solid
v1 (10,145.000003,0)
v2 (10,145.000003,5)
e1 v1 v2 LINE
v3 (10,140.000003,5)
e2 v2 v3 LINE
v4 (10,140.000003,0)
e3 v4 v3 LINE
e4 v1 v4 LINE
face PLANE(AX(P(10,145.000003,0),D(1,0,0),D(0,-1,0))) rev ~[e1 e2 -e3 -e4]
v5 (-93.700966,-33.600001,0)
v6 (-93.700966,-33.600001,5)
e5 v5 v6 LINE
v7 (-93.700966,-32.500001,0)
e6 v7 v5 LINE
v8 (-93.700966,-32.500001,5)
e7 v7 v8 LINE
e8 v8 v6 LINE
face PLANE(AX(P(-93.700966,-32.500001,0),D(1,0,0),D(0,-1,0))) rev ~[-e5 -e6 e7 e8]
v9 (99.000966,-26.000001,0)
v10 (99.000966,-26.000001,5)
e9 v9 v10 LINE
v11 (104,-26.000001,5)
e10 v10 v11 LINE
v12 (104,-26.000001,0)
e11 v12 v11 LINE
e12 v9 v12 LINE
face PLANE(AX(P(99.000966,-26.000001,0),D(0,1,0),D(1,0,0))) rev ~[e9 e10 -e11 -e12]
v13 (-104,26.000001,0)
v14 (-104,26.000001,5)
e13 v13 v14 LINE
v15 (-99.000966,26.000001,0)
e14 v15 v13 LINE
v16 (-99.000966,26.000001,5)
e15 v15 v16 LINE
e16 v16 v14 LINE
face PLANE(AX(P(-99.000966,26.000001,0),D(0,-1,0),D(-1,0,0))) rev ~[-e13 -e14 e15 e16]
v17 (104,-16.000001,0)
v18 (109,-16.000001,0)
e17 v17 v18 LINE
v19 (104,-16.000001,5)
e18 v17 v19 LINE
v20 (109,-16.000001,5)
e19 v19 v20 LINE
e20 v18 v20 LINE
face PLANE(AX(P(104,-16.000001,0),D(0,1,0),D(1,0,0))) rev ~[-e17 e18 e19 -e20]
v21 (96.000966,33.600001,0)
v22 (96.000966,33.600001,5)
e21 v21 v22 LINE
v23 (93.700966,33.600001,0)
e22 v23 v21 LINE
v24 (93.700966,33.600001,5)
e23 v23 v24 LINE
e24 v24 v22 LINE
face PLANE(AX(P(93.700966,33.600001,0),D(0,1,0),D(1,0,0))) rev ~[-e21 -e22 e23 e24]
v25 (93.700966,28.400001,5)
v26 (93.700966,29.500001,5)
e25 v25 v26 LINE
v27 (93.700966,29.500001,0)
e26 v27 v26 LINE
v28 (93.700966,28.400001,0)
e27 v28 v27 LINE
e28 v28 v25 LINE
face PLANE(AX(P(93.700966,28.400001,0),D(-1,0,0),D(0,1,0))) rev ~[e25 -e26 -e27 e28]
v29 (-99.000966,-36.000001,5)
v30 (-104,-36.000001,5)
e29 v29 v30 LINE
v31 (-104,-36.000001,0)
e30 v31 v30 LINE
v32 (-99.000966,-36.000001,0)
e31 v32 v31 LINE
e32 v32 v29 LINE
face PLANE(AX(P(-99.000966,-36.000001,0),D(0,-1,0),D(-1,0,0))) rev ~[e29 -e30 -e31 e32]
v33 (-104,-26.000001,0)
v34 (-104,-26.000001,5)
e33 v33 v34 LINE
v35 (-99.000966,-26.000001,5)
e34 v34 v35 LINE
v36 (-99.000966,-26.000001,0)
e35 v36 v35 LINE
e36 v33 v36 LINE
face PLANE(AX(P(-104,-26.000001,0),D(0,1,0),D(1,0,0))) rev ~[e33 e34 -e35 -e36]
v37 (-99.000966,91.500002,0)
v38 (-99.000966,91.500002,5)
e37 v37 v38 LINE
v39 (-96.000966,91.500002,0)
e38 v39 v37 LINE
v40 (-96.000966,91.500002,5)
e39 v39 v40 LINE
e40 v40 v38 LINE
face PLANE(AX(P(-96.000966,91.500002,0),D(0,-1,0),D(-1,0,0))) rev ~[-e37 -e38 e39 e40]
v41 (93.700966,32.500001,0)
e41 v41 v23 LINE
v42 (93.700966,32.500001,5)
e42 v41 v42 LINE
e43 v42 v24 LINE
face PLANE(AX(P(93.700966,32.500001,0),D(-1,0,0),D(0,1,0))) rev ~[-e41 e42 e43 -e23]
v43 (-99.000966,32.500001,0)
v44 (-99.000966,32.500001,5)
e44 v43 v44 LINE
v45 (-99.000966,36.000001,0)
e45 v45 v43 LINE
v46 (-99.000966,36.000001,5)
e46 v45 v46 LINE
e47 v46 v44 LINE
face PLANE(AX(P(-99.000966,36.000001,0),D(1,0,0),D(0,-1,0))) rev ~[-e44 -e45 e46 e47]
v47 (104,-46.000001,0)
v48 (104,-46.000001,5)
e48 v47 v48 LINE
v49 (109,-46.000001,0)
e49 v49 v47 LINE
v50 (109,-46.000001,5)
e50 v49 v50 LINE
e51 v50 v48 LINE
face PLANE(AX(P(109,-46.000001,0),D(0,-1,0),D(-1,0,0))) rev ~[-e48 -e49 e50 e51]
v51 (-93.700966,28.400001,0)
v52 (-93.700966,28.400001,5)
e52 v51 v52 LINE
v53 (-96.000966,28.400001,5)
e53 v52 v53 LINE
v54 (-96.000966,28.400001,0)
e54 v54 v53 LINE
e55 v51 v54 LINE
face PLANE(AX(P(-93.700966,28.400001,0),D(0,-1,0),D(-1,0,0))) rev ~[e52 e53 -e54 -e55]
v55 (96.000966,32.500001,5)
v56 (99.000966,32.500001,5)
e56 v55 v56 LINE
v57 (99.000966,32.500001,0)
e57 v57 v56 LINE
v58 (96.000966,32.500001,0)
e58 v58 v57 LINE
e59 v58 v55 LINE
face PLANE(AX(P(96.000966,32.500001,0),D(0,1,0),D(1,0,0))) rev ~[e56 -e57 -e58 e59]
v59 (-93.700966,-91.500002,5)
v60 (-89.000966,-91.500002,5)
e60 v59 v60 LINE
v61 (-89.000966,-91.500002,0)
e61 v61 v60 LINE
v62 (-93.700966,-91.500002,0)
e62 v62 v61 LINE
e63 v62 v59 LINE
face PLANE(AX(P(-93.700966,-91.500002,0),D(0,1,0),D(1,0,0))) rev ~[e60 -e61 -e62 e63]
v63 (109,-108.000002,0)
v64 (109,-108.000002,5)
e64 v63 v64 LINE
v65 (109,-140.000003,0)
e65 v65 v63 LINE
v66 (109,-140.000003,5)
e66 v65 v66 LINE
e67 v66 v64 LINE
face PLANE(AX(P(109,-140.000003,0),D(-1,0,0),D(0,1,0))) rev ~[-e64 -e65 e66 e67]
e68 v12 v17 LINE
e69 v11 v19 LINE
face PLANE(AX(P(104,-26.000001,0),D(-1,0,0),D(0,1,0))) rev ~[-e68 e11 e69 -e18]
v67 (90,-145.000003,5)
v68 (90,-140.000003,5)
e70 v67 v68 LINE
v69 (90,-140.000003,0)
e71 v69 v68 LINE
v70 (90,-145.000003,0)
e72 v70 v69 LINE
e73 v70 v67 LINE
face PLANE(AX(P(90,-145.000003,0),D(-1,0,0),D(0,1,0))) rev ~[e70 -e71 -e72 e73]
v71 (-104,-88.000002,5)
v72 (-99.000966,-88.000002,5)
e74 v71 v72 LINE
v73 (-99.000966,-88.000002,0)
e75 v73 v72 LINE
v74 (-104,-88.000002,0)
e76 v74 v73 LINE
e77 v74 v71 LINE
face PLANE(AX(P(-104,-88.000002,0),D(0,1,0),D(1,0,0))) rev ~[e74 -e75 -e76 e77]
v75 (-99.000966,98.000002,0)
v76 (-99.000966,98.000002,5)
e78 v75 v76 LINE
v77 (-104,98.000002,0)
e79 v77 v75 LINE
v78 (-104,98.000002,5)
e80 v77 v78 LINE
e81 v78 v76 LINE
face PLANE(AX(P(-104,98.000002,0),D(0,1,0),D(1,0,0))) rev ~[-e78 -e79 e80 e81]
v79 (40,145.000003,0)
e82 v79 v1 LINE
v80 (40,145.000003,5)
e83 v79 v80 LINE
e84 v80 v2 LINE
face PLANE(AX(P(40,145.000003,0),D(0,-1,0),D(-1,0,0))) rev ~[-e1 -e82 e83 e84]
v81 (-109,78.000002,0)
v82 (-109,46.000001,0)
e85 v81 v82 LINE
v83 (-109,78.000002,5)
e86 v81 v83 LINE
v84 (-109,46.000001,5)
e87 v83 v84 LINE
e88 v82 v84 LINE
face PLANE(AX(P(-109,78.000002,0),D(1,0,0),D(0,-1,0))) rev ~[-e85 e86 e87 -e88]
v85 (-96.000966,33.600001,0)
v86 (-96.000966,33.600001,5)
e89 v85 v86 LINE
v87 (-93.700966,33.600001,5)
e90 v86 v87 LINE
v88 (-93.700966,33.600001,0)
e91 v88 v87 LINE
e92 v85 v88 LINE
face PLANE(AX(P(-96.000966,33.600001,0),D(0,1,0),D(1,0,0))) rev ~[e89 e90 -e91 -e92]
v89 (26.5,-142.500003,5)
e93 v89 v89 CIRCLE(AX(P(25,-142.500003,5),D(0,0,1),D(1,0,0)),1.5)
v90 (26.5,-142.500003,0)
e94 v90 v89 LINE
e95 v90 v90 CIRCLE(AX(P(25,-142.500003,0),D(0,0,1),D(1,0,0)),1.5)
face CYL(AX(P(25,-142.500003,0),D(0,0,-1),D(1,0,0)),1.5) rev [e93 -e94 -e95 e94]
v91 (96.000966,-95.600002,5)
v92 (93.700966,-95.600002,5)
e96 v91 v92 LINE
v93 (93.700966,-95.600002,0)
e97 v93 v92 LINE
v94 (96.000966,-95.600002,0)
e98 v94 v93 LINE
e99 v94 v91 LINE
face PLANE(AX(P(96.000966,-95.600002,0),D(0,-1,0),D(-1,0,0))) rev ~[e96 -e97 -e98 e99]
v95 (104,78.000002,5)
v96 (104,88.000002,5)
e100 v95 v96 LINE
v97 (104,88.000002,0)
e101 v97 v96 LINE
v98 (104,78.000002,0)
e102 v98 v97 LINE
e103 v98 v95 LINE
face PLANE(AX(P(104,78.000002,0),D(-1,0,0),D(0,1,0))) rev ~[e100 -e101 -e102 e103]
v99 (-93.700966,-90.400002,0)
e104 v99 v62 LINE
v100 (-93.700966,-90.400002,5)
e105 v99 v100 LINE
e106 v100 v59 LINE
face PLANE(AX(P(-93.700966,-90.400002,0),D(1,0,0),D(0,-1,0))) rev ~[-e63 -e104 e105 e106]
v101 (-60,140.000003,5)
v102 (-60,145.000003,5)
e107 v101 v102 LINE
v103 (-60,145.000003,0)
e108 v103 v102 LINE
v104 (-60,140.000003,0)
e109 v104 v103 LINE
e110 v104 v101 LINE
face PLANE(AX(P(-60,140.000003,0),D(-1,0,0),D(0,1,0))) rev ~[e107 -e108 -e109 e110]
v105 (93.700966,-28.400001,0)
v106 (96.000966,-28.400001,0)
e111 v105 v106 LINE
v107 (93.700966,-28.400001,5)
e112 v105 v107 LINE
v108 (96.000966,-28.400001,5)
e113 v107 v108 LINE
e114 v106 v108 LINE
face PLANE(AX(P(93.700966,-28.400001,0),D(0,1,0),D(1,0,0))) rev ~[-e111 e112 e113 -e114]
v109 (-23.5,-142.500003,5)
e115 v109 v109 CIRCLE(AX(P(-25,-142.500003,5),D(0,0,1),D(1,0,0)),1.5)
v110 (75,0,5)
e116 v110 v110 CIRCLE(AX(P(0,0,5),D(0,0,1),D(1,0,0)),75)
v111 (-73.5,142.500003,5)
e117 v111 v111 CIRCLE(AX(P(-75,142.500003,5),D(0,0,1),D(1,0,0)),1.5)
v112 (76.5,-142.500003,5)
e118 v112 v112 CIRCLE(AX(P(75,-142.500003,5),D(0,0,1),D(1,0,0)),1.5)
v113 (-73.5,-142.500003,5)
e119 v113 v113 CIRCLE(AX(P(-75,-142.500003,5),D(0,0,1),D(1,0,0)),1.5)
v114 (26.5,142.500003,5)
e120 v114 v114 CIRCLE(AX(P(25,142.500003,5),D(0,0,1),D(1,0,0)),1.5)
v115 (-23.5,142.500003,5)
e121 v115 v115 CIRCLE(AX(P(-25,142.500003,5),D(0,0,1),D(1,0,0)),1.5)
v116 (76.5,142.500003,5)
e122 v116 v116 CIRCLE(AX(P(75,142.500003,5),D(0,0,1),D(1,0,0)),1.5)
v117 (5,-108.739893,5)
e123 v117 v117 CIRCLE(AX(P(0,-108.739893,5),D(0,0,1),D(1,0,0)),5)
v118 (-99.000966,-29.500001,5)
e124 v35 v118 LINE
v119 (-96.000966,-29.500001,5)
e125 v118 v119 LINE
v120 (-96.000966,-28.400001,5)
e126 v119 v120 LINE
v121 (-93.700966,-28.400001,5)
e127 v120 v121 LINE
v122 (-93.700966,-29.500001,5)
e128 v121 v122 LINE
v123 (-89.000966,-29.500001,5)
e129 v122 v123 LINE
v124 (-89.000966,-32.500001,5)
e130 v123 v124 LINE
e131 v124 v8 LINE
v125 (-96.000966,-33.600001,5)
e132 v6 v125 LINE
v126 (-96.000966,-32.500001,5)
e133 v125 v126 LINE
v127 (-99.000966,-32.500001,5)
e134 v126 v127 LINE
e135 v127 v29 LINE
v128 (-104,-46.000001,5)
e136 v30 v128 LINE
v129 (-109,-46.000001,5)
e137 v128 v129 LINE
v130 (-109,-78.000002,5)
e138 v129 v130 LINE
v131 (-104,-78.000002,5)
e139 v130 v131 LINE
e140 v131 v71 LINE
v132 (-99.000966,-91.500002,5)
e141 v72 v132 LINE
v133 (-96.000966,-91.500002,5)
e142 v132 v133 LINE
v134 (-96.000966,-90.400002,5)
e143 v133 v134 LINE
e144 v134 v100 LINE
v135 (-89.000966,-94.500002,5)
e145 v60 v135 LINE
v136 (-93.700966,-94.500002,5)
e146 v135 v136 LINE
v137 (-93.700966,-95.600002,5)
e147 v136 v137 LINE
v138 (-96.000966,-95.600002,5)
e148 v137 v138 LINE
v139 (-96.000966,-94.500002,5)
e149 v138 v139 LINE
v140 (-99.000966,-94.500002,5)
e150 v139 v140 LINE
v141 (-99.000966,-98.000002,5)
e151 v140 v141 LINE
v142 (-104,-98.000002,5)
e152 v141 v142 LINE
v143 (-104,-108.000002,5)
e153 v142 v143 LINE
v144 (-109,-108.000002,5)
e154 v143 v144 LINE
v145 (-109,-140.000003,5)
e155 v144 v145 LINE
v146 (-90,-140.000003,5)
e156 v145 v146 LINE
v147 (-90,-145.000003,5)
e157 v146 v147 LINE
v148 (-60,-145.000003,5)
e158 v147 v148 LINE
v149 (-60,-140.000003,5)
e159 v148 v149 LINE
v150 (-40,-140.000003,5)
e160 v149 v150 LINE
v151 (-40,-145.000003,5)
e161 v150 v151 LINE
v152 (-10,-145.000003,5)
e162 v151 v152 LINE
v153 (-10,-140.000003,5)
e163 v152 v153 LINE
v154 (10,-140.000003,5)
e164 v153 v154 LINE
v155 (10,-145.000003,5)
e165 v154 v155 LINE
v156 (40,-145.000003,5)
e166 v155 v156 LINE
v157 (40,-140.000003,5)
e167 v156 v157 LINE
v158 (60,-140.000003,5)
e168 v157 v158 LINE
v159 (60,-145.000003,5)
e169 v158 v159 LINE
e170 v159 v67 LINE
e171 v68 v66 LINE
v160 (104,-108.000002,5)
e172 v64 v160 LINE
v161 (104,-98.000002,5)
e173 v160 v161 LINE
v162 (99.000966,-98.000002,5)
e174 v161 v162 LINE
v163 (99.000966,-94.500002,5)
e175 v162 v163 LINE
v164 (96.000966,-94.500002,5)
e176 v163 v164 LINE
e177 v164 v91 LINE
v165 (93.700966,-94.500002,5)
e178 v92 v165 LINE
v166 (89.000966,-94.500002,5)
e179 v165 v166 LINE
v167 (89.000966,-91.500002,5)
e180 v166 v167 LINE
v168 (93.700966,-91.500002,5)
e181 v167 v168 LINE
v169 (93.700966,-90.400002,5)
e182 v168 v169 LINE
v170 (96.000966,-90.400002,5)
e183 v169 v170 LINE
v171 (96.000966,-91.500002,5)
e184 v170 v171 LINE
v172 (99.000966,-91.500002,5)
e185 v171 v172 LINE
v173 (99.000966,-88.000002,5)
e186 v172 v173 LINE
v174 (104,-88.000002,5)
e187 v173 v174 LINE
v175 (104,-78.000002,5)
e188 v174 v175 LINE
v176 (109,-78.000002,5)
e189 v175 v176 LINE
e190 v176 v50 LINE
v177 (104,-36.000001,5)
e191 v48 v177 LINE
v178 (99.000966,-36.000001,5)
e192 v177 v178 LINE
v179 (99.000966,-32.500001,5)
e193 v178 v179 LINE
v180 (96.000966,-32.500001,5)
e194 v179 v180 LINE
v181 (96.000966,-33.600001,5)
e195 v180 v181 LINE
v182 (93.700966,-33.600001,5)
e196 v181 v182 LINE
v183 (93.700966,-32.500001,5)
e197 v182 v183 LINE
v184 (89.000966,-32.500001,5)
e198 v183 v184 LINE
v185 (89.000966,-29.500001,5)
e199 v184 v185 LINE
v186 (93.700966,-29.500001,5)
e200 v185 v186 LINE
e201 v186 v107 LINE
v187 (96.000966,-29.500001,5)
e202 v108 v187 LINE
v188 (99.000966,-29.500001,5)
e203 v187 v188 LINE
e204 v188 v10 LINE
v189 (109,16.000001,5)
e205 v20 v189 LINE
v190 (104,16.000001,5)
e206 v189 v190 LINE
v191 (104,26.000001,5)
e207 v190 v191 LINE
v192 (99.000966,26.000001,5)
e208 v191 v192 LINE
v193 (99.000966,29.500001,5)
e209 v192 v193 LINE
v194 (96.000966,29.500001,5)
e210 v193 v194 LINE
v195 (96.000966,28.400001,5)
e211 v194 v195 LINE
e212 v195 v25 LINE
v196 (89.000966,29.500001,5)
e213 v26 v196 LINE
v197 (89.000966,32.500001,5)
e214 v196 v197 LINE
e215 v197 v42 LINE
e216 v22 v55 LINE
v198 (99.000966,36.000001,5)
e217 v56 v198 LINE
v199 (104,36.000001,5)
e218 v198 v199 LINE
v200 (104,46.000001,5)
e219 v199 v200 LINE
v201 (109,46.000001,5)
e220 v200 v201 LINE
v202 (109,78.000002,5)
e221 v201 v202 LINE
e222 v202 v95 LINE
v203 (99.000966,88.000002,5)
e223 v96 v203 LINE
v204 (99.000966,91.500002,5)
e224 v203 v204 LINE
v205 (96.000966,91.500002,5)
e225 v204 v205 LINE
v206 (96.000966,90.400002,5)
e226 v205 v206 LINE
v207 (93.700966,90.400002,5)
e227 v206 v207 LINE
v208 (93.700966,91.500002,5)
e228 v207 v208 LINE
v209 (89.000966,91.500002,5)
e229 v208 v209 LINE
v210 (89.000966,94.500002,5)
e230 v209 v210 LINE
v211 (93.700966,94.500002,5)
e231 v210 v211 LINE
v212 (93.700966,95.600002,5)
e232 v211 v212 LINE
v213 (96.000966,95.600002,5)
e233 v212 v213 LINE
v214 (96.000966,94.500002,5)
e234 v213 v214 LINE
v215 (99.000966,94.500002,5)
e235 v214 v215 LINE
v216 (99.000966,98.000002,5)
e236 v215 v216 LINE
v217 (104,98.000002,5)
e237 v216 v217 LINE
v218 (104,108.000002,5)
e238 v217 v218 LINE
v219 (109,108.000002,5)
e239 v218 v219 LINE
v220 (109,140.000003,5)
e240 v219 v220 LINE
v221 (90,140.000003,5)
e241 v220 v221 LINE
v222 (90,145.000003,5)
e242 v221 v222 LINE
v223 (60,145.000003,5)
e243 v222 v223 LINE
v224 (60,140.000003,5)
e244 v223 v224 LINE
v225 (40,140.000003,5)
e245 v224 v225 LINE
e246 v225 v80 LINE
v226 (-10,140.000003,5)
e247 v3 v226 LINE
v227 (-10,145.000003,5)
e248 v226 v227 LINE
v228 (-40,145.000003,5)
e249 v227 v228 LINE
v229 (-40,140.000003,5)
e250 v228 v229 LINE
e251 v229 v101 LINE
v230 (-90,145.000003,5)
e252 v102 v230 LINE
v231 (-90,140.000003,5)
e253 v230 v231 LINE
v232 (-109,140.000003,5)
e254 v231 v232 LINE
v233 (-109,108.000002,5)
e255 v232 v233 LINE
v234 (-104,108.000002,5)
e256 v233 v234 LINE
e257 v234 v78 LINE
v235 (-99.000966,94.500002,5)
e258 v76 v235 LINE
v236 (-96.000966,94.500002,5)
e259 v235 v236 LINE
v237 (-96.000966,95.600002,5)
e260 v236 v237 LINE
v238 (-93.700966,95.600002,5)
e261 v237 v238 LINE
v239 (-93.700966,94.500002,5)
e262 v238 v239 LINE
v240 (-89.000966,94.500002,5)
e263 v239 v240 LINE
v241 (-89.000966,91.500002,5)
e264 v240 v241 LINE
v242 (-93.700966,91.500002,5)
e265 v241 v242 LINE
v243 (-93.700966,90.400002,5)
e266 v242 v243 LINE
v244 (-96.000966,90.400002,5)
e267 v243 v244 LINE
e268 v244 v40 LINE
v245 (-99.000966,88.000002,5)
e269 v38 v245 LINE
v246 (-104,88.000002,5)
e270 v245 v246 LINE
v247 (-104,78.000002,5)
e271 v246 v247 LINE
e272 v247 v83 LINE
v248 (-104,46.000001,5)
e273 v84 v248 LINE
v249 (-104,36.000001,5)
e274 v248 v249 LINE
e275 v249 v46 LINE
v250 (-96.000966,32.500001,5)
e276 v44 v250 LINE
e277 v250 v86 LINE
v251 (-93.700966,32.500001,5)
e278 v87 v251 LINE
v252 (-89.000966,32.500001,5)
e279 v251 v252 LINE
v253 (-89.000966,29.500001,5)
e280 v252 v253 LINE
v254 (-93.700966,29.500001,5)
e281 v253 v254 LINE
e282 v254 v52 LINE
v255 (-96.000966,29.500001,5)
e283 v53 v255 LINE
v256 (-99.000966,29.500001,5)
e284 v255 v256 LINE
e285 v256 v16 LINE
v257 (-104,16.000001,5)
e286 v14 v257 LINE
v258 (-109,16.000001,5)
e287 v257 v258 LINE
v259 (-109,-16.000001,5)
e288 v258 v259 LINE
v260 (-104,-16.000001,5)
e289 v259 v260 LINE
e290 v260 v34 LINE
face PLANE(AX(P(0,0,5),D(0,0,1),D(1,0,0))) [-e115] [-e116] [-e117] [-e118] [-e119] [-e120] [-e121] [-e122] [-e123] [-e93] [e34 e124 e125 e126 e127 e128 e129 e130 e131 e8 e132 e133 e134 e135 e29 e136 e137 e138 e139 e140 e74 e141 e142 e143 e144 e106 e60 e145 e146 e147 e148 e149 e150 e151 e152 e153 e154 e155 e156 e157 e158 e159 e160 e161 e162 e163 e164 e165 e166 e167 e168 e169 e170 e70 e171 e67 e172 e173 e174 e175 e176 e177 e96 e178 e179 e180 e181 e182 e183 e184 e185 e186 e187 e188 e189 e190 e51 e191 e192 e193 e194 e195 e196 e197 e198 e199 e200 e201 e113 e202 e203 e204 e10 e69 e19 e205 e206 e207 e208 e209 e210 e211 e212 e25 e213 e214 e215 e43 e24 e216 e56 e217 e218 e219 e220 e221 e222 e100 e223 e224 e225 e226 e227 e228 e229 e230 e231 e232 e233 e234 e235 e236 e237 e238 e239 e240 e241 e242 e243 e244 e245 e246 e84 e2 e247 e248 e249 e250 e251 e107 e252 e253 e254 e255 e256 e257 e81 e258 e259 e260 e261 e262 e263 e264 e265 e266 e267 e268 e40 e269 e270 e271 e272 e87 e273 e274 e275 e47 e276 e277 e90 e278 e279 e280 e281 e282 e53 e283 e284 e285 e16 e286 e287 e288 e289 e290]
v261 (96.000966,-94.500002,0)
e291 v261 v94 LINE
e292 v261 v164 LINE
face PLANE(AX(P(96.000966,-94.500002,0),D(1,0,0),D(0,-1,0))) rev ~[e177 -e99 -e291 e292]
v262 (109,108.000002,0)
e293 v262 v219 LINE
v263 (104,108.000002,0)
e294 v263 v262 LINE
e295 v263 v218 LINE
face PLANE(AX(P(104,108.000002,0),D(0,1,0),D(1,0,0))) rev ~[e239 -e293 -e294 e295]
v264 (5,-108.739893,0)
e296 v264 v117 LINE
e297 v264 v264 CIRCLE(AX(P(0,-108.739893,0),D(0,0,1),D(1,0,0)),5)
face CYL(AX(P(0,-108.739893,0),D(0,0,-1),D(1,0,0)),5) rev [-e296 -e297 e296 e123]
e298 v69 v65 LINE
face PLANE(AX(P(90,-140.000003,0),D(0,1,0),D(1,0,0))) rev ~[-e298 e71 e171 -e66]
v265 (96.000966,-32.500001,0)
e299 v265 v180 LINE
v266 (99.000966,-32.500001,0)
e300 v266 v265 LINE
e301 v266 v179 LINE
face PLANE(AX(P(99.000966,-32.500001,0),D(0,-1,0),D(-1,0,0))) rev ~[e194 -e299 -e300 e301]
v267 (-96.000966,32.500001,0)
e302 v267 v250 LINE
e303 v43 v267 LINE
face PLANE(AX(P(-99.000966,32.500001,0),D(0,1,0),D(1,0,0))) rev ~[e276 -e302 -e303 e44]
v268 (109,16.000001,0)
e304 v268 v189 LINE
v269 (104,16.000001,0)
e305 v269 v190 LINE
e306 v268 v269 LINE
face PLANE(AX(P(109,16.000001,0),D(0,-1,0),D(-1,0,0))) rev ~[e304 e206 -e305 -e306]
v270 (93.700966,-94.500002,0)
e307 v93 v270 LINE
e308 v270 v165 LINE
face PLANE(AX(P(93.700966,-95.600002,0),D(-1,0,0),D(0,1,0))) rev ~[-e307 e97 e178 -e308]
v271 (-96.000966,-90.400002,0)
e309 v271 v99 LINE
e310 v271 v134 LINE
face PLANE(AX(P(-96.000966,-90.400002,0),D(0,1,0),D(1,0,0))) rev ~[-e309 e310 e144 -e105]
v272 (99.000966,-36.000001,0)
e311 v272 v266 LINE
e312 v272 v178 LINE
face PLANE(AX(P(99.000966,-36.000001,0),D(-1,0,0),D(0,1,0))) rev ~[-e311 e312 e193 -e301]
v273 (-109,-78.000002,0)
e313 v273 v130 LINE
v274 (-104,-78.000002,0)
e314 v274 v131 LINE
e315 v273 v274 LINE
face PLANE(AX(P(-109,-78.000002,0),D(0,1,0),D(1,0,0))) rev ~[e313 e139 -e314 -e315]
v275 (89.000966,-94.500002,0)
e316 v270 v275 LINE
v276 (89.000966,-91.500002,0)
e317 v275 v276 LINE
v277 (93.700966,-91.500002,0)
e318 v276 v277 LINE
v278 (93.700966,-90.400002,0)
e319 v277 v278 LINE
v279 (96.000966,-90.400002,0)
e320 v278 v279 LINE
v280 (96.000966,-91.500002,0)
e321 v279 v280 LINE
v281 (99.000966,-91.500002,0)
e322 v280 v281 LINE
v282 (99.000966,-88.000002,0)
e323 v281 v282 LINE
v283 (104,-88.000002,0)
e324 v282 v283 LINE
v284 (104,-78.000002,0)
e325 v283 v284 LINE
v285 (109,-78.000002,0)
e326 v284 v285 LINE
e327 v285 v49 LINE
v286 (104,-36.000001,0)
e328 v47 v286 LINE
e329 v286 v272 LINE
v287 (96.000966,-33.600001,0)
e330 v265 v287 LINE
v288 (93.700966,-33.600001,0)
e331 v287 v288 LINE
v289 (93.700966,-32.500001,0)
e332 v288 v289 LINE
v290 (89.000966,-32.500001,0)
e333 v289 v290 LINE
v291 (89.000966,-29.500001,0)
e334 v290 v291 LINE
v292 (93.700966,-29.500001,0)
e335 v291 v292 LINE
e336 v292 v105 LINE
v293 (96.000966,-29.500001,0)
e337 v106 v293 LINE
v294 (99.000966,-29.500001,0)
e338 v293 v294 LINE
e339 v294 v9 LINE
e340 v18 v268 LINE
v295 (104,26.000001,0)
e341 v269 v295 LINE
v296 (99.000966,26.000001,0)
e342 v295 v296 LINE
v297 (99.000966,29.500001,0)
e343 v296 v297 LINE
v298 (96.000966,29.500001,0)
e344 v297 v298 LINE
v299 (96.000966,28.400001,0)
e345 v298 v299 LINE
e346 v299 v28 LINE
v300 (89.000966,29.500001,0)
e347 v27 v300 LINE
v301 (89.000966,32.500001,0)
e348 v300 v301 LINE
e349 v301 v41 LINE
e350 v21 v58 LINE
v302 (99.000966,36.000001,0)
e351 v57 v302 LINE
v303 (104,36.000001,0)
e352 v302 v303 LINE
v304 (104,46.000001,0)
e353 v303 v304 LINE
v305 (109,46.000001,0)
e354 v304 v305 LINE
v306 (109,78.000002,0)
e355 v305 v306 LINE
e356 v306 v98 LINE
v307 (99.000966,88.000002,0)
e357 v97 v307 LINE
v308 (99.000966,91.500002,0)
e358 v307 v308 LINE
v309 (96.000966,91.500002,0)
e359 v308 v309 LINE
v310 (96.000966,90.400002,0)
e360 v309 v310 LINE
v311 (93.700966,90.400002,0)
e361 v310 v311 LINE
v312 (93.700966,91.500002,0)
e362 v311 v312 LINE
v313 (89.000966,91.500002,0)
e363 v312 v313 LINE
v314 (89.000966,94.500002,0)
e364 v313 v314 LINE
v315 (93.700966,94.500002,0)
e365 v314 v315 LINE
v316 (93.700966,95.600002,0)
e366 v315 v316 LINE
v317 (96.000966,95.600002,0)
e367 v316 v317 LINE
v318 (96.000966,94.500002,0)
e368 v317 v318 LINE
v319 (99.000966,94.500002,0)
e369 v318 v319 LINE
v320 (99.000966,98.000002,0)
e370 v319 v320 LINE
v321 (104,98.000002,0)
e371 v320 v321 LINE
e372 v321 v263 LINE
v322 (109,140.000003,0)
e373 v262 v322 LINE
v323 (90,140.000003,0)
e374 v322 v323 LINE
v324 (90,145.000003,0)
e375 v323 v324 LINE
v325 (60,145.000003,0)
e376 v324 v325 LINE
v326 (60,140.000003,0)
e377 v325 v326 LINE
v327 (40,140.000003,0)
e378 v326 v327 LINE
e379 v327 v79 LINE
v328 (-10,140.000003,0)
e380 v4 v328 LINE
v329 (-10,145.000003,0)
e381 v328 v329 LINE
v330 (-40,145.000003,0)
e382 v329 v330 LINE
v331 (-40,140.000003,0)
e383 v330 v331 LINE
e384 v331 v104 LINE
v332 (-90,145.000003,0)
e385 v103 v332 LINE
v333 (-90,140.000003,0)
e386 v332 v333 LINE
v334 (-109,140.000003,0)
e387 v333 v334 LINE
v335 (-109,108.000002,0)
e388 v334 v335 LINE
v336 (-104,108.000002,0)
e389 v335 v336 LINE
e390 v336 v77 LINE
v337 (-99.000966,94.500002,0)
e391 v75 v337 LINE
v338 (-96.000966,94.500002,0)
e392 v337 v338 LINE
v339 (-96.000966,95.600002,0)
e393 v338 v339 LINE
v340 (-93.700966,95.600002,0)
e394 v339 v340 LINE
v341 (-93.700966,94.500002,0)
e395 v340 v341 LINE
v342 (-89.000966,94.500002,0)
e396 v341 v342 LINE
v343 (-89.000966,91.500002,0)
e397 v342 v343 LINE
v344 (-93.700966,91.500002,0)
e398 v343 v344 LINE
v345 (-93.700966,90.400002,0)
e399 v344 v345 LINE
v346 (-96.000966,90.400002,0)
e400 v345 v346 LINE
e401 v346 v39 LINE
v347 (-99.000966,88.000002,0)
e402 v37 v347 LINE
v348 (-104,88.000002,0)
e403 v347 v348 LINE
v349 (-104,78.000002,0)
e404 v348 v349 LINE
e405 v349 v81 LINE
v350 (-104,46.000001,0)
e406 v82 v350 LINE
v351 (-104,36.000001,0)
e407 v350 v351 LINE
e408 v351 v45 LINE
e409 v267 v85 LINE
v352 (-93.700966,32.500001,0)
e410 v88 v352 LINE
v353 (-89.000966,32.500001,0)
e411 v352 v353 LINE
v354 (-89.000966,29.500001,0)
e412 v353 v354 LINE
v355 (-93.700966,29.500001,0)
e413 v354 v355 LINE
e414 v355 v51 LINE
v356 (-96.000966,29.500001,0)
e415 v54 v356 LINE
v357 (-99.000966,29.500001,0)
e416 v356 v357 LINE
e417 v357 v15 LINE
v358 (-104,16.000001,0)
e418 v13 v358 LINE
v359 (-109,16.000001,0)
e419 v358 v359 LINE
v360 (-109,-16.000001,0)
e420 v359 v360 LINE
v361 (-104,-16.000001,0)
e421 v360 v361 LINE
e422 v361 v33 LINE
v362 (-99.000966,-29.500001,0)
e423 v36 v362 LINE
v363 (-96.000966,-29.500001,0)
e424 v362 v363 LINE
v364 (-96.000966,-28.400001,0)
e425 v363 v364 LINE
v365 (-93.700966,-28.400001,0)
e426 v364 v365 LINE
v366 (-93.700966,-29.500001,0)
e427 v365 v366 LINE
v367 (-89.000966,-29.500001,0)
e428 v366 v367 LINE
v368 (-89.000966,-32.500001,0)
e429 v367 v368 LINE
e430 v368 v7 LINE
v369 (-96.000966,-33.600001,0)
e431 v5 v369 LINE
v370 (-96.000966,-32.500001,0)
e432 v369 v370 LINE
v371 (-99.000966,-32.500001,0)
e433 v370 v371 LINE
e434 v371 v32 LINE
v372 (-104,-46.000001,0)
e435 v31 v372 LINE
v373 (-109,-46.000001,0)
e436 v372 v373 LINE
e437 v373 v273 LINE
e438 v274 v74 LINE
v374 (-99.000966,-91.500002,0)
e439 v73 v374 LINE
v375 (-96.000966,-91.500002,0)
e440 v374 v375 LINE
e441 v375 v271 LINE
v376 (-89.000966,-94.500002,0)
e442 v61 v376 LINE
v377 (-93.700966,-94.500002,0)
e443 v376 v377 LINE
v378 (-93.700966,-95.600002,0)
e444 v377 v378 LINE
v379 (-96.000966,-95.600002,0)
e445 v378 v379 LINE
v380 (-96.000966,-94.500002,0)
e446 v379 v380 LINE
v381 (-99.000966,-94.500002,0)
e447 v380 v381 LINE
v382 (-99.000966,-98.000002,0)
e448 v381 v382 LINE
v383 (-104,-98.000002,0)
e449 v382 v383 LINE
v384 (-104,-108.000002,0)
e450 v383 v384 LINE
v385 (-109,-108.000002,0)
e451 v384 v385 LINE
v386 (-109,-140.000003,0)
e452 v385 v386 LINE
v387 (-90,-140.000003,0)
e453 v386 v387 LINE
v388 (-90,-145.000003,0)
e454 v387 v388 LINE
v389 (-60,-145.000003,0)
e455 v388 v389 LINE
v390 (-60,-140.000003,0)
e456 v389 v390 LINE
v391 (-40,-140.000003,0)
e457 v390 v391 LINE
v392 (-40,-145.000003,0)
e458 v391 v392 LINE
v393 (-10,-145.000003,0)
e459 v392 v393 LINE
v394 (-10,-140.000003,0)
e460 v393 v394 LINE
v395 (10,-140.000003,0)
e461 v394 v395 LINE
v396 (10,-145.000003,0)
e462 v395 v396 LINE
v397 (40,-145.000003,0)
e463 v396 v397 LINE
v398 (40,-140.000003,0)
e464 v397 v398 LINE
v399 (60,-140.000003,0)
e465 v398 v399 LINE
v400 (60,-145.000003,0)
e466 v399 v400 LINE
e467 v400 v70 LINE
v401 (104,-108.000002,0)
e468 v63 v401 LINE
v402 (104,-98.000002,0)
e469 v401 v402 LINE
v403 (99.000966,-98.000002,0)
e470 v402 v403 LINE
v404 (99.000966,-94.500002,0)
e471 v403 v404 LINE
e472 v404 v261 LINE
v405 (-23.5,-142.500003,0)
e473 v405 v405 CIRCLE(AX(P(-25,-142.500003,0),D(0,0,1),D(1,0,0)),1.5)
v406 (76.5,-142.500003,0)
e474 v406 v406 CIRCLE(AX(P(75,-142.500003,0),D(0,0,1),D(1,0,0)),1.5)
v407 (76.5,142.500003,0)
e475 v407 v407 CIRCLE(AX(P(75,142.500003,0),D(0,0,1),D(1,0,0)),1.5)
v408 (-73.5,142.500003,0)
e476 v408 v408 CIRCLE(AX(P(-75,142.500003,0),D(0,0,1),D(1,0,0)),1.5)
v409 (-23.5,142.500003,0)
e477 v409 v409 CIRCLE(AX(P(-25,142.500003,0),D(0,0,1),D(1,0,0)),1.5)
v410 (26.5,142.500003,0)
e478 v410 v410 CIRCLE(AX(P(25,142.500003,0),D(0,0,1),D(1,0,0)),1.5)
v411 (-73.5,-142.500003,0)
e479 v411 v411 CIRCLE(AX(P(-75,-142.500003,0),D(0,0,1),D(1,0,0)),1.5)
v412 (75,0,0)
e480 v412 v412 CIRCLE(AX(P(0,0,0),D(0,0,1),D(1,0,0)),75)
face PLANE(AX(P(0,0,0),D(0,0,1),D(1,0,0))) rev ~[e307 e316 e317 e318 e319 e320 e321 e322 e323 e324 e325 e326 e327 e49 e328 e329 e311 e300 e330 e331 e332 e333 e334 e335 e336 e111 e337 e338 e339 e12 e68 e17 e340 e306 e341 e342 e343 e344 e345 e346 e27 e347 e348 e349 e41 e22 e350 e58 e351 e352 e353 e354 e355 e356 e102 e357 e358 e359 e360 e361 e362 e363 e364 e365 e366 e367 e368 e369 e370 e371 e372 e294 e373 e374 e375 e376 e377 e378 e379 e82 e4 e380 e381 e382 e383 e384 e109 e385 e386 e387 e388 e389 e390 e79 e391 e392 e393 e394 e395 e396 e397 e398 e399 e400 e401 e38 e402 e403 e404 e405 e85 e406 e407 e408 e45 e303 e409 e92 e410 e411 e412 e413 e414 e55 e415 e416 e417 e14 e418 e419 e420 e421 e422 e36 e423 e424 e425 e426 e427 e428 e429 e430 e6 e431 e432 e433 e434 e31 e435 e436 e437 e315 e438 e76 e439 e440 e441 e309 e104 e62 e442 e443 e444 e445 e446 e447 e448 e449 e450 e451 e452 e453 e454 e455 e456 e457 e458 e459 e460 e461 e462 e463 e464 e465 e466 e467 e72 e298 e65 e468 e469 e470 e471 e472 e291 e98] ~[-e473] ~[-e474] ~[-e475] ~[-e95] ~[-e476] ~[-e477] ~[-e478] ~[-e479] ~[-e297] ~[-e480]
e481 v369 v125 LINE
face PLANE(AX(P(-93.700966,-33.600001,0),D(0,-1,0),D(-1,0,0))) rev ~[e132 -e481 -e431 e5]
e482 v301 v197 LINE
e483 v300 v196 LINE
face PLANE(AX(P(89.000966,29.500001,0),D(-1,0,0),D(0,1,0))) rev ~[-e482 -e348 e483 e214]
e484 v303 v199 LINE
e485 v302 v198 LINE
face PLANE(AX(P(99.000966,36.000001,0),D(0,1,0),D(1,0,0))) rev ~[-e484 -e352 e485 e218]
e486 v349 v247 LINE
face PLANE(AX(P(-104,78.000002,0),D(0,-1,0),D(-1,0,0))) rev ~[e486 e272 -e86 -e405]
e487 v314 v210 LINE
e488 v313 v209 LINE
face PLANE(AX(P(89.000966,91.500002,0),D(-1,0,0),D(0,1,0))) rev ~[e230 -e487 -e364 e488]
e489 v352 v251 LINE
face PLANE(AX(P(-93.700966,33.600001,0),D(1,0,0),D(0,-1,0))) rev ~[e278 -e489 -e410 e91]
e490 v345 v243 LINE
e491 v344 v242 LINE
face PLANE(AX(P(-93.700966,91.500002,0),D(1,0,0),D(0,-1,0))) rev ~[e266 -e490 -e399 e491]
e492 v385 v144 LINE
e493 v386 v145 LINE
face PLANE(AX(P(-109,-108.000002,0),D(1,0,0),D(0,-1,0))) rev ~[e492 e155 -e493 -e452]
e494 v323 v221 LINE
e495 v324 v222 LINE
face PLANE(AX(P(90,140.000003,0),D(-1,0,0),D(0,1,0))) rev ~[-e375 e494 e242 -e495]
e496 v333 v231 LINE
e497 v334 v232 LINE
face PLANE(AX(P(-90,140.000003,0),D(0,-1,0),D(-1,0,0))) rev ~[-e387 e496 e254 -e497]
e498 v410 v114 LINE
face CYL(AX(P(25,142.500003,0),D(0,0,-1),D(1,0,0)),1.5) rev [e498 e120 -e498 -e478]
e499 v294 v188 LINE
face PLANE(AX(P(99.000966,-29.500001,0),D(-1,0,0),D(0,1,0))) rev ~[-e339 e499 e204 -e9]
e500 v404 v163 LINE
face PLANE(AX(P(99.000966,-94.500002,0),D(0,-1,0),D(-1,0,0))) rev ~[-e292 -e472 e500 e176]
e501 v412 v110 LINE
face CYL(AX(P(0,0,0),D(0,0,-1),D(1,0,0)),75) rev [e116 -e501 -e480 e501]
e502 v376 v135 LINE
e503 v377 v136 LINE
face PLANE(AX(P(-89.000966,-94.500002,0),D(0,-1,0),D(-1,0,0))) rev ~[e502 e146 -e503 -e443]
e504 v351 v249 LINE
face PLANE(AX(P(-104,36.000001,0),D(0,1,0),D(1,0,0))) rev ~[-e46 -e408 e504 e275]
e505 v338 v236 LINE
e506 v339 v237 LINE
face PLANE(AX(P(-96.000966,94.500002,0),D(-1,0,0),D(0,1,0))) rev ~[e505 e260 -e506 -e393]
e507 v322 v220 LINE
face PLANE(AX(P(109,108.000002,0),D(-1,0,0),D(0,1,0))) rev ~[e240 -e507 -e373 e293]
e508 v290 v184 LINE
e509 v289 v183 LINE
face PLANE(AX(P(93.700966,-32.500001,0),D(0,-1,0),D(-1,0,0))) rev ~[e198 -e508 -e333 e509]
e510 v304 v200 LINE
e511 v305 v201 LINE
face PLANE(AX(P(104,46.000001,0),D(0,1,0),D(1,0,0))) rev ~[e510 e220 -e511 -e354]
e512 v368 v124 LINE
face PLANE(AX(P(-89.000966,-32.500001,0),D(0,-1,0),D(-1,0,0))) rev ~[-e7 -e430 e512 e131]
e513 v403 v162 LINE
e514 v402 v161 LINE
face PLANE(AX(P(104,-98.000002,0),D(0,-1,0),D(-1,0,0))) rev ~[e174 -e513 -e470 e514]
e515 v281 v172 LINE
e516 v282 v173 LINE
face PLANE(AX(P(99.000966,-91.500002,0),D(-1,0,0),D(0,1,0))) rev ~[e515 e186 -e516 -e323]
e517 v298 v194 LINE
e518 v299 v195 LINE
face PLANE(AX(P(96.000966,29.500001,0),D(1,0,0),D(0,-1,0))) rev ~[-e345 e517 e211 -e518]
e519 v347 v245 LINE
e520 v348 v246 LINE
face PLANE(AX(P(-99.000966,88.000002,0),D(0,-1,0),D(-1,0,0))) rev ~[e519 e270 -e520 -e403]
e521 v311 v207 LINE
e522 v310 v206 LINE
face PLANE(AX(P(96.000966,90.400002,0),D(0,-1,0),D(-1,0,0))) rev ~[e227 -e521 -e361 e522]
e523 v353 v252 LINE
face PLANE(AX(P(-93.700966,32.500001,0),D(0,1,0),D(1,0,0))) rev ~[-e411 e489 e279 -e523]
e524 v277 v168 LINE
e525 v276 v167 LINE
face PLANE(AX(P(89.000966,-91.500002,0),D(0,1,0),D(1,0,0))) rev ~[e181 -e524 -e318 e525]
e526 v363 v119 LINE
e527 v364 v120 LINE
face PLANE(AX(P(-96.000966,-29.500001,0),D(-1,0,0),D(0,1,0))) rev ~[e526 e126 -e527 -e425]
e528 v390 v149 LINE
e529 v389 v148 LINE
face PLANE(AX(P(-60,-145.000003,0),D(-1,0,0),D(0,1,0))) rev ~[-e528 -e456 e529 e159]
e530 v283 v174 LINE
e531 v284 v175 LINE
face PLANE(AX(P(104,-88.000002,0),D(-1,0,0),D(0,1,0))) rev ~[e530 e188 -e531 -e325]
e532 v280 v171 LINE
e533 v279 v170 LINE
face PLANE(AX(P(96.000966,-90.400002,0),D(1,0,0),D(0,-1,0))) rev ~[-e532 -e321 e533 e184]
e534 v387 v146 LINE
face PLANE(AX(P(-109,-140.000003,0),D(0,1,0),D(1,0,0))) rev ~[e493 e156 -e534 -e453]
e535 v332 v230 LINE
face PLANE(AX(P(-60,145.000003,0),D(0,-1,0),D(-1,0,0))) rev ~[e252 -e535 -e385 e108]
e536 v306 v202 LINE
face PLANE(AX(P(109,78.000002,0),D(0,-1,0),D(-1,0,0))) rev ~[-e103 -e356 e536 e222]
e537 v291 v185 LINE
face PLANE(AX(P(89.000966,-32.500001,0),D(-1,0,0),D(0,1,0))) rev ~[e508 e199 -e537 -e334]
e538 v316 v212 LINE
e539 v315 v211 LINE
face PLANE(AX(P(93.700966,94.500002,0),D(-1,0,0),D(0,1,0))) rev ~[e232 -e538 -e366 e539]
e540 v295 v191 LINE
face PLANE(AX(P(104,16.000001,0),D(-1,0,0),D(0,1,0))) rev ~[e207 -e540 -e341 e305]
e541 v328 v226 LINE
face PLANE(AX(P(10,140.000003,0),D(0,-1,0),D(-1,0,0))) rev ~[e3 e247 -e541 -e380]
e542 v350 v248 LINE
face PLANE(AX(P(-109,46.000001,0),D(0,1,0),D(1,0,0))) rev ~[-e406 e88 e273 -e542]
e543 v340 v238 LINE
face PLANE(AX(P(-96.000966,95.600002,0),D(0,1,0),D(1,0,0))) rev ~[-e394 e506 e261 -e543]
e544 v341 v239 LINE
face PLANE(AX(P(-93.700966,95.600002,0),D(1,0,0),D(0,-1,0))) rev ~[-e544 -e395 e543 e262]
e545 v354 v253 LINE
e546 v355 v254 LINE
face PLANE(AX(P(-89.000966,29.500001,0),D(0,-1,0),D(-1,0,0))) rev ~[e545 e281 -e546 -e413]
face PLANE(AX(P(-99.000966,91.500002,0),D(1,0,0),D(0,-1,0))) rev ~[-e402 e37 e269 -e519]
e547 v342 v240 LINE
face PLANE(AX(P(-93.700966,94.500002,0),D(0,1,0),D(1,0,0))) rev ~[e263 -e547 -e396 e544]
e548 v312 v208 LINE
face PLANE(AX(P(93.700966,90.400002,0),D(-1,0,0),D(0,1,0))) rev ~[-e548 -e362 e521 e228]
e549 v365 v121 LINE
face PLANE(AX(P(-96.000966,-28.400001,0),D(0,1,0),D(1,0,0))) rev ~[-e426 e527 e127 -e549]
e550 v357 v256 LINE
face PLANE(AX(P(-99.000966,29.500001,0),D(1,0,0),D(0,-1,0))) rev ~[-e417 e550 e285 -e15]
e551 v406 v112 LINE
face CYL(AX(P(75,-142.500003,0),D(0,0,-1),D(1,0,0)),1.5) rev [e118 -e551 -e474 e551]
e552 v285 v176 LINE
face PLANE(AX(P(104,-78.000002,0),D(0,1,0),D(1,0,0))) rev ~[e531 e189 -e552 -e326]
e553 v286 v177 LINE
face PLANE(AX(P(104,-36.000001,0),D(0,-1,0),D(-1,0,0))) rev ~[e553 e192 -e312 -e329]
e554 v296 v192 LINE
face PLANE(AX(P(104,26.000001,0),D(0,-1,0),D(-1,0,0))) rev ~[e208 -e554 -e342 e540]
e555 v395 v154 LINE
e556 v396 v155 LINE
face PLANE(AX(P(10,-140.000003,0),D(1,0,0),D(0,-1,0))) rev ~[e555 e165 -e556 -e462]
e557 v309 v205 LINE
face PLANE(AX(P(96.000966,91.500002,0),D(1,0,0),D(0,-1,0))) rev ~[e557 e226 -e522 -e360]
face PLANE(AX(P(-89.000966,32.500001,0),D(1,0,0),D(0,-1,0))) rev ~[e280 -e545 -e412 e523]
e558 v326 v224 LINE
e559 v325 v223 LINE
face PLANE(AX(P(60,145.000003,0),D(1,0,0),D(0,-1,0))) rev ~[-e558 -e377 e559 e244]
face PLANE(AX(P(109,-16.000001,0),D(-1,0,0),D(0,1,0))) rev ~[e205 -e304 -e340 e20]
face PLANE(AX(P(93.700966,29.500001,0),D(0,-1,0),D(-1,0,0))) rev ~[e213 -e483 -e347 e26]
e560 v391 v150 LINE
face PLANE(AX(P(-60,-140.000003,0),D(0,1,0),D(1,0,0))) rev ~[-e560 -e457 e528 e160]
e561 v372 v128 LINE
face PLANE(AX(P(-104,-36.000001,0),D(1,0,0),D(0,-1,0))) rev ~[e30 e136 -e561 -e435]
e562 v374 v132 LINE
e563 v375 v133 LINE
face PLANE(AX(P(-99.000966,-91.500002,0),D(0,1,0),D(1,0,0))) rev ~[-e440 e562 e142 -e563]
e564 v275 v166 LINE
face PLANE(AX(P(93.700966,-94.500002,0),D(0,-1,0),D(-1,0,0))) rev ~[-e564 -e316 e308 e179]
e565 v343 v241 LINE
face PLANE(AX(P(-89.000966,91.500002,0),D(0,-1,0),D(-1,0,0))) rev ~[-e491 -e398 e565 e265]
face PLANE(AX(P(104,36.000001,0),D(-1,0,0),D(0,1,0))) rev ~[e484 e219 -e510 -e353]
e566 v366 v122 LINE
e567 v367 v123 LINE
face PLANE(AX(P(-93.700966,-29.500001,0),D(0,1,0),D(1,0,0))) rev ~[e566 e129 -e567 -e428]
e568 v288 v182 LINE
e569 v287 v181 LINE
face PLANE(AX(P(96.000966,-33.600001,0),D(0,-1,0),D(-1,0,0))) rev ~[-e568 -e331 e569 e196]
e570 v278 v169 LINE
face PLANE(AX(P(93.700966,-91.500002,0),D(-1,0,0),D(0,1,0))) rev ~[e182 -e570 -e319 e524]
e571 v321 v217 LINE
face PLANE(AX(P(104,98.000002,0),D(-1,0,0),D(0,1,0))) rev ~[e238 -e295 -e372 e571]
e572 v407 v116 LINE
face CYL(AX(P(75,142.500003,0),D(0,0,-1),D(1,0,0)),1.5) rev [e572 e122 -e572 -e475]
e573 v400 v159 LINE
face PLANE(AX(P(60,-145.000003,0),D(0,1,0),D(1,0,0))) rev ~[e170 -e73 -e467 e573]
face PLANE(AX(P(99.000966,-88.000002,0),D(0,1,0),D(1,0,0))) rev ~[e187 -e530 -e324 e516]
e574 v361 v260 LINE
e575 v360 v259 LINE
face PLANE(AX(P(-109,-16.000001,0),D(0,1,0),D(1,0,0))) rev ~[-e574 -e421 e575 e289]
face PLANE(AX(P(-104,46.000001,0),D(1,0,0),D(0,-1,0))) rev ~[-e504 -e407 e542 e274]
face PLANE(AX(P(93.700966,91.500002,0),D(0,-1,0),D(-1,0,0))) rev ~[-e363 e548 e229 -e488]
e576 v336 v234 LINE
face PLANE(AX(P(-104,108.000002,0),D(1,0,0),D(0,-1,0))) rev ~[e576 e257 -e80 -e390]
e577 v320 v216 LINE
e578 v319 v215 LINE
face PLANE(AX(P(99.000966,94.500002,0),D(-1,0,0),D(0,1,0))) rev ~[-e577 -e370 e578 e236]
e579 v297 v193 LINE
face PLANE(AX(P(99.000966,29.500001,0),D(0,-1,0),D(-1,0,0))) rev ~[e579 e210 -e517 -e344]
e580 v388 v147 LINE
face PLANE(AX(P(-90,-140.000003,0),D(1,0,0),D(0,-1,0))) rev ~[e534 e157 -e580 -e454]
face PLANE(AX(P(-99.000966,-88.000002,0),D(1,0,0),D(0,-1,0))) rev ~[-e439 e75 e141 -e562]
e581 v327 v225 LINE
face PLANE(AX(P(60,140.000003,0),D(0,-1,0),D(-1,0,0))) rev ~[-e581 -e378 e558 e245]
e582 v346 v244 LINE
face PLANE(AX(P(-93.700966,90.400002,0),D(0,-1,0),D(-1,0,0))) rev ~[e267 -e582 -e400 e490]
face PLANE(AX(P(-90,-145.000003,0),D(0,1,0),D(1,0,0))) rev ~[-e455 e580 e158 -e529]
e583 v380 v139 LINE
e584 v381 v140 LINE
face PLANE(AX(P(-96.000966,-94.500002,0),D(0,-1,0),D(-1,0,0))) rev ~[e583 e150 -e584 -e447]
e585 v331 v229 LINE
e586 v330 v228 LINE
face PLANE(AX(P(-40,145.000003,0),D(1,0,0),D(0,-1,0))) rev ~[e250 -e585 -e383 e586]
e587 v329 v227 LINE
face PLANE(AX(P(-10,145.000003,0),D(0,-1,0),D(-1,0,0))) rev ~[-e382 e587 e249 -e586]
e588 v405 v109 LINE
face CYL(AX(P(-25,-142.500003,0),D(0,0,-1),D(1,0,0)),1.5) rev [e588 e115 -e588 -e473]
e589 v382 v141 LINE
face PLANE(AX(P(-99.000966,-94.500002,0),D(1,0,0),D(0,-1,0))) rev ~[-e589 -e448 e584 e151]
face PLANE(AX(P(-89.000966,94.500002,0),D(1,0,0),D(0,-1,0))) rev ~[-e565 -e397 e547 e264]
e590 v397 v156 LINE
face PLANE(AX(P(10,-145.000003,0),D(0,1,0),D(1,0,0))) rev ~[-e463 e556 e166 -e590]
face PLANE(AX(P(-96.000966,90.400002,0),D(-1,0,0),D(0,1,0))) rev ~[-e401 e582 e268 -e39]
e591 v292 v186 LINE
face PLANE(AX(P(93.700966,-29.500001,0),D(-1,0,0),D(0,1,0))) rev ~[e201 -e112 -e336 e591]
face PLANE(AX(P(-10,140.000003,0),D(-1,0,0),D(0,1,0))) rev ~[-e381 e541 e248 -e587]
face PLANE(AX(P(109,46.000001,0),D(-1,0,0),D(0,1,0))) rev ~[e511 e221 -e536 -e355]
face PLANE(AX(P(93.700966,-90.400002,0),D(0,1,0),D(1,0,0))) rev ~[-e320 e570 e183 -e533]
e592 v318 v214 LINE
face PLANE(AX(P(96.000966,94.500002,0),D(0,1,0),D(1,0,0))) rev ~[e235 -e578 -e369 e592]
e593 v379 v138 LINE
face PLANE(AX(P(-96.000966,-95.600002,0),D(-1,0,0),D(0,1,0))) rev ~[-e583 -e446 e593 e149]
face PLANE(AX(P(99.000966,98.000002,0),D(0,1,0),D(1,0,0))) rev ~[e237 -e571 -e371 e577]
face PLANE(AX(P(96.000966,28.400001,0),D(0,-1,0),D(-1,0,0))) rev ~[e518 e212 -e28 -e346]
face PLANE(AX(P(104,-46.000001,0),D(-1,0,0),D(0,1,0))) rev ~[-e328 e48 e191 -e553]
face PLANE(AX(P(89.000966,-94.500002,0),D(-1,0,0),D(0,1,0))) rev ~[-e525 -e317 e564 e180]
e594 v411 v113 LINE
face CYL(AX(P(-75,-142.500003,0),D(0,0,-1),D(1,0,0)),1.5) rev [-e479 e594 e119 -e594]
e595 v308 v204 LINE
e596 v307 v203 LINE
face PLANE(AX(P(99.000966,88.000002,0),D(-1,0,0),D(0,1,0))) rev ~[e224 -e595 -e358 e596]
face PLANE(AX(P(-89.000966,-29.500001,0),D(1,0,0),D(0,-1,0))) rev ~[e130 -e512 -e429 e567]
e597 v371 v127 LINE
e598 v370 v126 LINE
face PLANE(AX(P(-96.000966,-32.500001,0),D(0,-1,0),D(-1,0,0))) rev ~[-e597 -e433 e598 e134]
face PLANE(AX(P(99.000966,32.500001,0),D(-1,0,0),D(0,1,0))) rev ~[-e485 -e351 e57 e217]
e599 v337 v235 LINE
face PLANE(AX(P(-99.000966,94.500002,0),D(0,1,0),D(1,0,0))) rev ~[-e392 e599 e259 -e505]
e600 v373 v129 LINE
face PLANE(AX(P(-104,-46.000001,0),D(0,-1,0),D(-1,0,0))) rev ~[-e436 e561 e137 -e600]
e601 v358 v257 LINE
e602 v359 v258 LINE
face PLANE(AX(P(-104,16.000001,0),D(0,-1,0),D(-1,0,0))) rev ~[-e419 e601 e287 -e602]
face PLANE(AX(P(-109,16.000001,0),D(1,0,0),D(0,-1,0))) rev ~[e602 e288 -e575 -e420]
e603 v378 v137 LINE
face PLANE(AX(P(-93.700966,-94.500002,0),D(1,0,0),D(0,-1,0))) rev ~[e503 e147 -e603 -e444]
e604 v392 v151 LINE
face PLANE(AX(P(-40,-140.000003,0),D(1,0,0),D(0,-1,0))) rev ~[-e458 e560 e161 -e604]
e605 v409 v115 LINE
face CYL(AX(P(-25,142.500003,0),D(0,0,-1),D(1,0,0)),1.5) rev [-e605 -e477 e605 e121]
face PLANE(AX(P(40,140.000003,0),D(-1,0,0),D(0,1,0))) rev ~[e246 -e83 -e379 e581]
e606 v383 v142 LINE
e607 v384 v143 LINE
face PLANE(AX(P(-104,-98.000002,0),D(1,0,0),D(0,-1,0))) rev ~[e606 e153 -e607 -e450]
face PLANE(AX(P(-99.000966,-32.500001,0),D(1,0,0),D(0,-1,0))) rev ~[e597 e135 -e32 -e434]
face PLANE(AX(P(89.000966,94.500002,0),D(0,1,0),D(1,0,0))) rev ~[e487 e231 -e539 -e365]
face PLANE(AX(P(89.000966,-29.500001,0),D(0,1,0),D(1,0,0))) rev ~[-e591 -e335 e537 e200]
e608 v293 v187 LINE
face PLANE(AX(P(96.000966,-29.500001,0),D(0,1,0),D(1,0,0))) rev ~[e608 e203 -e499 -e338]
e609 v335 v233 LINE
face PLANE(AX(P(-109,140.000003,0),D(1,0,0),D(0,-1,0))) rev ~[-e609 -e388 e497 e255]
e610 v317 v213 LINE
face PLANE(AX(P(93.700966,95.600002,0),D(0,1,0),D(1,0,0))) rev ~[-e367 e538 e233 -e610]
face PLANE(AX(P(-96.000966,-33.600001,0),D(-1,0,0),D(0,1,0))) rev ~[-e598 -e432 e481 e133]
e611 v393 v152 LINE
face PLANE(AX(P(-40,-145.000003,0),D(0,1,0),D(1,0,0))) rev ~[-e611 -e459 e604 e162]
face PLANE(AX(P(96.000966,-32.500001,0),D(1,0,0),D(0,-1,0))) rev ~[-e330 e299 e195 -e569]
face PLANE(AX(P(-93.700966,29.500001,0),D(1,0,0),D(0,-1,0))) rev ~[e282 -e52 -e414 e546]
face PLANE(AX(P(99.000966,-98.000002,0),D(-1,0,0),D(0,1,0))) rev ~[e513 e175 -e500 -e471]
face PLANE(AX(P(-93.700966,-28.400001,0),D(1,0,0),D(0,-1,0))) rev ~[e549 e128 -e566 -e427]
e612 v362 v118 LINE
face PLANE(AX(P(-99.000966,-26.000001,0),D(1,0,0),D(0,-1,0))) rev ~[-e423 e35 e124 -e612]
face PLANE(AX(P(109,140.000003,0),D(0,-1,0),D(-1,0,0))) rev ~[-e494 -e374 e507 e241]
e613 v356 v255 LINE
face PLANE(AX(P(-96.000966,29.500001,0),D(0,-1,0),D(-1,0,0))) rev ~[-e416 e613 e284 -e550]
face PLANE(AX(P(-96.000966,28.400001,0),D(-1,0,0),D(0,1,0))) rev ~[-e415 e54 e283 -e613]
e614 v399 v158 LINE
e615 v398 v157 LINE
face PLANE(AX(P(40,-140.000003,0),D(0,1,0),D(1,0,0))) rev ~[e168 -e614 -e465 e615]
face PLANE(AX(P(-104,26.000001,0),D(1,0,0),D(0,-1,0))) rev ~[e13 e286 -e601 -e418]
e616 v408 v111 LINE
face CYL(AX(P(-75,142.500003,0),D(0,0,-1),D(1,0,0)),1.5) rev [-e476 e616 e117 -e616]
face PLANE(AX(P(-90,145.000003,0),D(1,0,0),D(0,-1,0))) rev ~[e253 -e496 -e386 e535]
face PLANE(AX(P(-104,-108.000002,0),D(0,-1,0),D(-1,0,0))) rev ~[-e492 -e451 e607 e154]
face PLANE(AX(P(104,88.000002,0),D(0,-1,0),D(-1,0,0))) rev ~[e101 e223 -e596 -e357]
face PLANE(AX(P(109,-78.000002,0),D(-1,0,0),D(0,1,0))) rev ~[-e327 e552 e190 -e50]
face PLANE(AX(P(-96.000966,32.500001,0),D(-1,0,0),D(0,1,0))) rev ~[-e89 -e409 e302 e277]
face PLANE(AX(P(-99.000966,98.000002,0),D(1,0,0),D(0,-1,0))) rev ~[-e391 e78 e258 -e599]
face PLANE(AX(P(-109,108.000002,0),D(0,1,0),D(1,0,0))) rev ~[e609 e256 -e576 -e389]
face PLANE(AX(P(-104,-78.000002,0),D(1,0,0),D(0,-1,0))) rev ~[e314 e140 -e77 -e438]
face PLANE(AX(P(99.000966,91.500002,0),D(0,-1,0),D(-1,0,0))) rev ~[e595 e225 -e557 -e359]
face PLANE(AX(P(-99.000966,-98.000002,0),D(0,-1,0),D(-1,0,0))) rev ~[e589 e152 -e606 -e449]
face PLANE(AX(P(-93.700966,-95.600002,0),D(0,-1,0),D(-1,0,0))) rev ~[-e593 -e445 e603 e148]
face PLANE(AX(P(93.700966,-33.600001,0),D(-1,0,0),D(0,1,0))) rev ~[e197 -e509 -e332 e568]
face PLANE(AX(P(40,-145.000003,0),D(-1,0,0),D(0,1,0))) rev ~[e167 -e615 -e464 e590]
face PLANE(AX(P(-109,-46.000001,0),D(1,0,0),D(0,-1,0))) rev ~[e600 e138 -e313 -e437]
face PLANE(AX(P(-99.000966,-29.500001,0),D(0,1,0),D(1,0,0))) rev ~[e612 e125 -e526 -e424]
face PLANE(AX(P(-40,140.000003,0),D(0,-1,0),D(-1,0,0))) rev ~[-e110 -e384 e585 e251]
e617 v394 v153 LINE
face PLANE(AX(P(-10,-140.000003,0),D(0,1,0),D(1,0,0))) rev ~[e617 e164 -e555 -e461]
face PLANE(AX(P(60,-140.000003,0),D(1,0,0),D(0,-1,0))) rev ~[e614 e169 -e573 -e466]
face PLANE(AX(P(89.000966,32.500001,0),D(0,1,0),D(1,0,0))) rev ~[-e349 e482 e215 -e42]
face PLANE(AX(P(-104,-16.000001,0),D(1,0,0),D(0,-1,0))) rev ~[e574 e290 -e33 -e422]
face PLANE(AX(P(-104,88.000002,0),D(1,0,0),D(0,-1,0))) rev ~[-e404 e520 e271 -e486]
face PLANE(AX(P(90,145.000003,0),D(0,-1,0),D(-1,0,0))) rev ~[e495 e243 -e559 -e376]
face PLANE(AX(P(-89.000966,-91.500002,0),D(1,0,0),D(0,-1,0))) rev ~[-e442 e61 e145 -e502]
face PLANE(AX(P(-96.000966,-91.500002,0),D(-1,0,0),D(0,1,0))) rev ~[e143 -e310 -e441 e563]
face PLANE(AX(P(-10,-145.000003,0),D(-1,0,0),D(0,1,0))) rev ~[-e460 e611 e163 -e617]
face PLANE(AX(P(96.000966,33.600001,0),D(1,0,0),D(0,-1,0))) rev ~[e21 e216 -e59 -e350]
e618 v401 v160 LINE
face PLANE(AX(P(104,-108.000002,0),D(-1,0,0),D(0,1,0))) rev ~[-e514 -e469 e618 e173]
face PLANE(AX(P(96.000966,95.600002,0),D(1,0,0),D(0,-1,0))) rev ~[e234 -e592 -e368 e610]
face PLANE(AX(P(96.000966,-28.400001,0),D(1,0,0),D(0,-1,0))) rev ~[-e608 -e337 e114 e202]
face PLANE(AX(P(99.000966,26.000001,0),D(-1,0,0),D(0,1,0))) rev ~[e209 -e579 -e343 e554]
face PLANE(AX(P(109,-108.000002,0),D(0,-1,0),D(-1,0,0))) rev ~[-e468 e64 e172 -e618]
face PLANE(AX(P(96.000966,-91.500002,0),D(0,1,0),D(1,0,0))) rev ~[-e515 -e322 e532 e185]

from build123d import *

# Parameters (mm, degrees)
SKETCH1_R           = 1.5
SKETCH1_R_2         = 5
SKETCH1_R_3         = 75
BOSS_EXTRUDE1_DEPTH = 5


with BuildPart() as part:
    # Sketch1 → Boss-Extrude1 (new body)
    with BuildSketch(Plane.XY):
        Polygon((-90, 145.000003033), (-90, 140.000003033), (-109, 140.000003033), (-109, 108.00000182), (-104, 108.00000182), (-104, 98.00000182), (-99.000966482, 98.00000182), (-99.000966482, 94.50000182), (-96.000966482, 94.50000182), (-96.000966482, 95.60000182), (-93.700966482, 95.60000182), (-93.700966482, 94.50000182), (-89.000966482, 94.50000182), (-89.000966482, 91.50000182), (-93.700966482, 91.50000182), (-93.700966482, 90.40000182), (-96.000966482, 90.40000182), (-96.000966482, 91.50000182), (-99.000966482, 91.50000182), (-99.000966482, 88.00000182), (-104, 88.00000182), (-104, 78.00000182), (-109, 78.00000182), (-109, 46.000000607), (-104, 46.000000607), (-104, 36.000000607), (-99.000966482, 36.000000607), (-99.000966482, 32.500000607), (-96.000966482, 32.500000607), (-96.000966482, 33.600000607), (-93.700966482, 33.600000607), (-93.700966482, 32.500000607), (-89.000966482, 32.500000607), (-89.000966482, 29.500000607), (-93.700966482, 29.500000607), (-93.700966482, 28.400000607), (-96.000966482, 28.400000607), (-96.000966482, 29.500000607), (-99.000966482, 29.500000607), (-99.000966482, 26.000000607), (-104, 26.000000607), (-104, 16.000000607), (-109, 16.000000607), (-109, -16.000000607), (-104, -16.000000607), (-104, -26.000000607), (-99.000966482, -26.000000607), (-99.000966482, -29.500000607), (-96.000966482, -29.500000607), (-96.000966482, -28.400000607), (-93.700966482, -28.400000607), (-93.700966482, -29.500000607), (-89.000966482, -29.500000607), (-89.000966482, -32.500000607), (-93.700966482, -32.500000607), (-93.700966482, -33.600000607), (-96.000966482, -33.600000607), (-96.000966482, -32.500000607), (-99.000966482, -32.500000607), (-99.000966482, -36.000000607), (-104, -36.000000607), (-104, -46.000000607), (-109, -46.000000607), (-109, -78.00000182), (-104, -78.00000182), (-104, -88.00000182), (-99.000966482, -88.00000182), (-99.000966482, -91.50000182), (-96.000966482, -91.50000182), (-96.000966482, -90.40000182), (-93.700966482, -90.40000182), (-93.700966482, -91.50000182), (-89.000966482, -91.50000182), (-89.000966482, -94.50000182), (-93.700966482, -94.50000182), (-93.700966482, -95.60000182), (-96.000966482, -95.60000182), (-96.000966482, -94.50000182), (-99.000966482, -94.50000182), (-99.000966482, -98.00000182), (-104, -98.00000182), (-104, -108.00000182), (-109, -108.00000182), (-109, -140.000003033), (-90, -140.000003033), (-90, -145.000003033), (-60, -145.000003033), (-60, -140.000003033), (-40, -140.000003033), (-40, -145.000003033), (-10, -145.000003033), (-10, -140.000003033), (10, -140.000003033), (10, -145.000003033), (40, -145.000003033), (40, -140.000003033), (60, -140.000003033), (60, -145.000003033), (90, -145.000003033), (90, -140.000003033), (109, -140.000003033), (109, -108.00000182), (104, -108.00000182), (104, -98.00000182), (99.000966482, -98.00000182), (99.000966482, -94.50000182), (96.000966482, -94.50000182), (96.000966482, -95.60000182), (93.700966482, -95.60000182), (93.700966482, -94.50000182), (89.000966482, -94.50000182), (89.000966482, -91.50000182), (93.700966482, -91.50000182), (93.700966482, -90.40000182), (96.000966482, -90.40000182), (96.000966482, -91.50000182), (99.000966482, -91.50000182), (99.000966482, -88.00000182), (104, -88.00000182), (104, -78.00000182), (109, -78.00000182), (109, -46.000000607), (104, -46.000000607), (104, -36.000000607), (99.000966482, -36.000000607), (99.000966482, -32.500000607), (96.000966482, -32.500000607), (96.000966482, -33.600000607), (93.700966482, -33.600000607), (93.700966482, -32.500000607), (89.000966482, -32.500000607), (89.000966482, -29.500000607), (93.700966482, -29.500000607), (93.700966482, -28.400000607), (96.000966482, -28.400000607), (96.000966482, -29.500000607), (99.000966482, -29.500000607), (99.000966482, -26.000000607), (104, -26.000000607), (104, -16.000000607), (109, -16.000000607), (109, 16.000000607), (104, 16.000000607), (104, 26.000000607), (99.000966482, 26.000000607), (99.000966482, 29.500000607), (96.000966482, 29.500000607), (96.000966482, 28.400000607), (93.700966482, 28.400000607), (93.700966482, 29.500000607), (89.000966482, 29.500000607), (89.000966482, 32.500000607), (93.700966482, 32.500000607), (93.700966482, 33.600000607), (96.000966482, 33.600000607), (96.000966482, 32.500000607), (99.000966482, 32.500000607), (99.000966482, 36.000000607), (104, 36.000000607), (104, 46.000000607), (109, 46.000000607), (109, 78.00000182), (104, 78.00000182), (104, 88.00000182), (99.000966482, 88.00000182), (99.000966482, 91.50000182), (96.000966482, 91.50000182), (96.000966482, 90.40000182), (93.700966482, 90.40000182), (93.700966482, 91.50000182), (89.000966482, 91.50000182), (89.000966482, 94.50000182), (93.700966482, 94.50000182), (93.700966482, 95.60000182), (96.000966482, 95.60000182), (96.000966482, 94.50000182), (99.000966482, 94.50000182), (99.000966482, 98.00000182), (104, 98.00000182), (104, 108.00000182), (109, 108.00000182), (109, 140.000003033), (90, 140.000003033), (90, 145.000003033), (60, 145.000003033), (60, 140.000003033), (40, 140.000003033), (40, 145.000003033), (10, 145.000003033), (10, 140.000003033), (-10, 140.000003033), (-10, 145.000003033), (-40, 145.000003033), (-40, 140.000003033), (-60, 140.000003033), (-60, 145.000003033), align=None)
        with Locations((-75, -142.500003033)):
            Circle(SKETCH1_R, mode=Mode.SUBTRACT)
        with Locations((-25, -142.500003033)):
            Circle(SKETCH1_R, mode=Mode.SUBTRACT)
        with Locations((25, -142.500003033)):
            Circle(SKETCH1_R, mode=Mode.SUBTRACT)
        with Locations((0, -108.739893094)):
            Circle(SKETCH1_R_2, mode=Mode.SUBTRACT)
        with Locations((75, -142.500003033)):
            Circle(SKETCH1_R, mode=Mode.SUBTRACT)
        with Locations((-75, 142.500003033)):
            Circle(SKETCH1_R, mode=Mode.SUBTRACT)
        with Locations((-25, 142.500003033)):
            Circle(SKETCH1_R, mode=Mode.SUBTRACT)
        Circle(SKETCH1_R_3, mode=Mode.SUBTRACT)
        with Locations((25, 142.500003033)):
            Circle(SKETCH1_R, mode=Mode.SUBTRACT)
        with Locations((75, 142.500003033)):
            Circle(SKETCH1_R, mode=Mode.SUBTRACT)
    extrude(amount=BOSS_EXTRUDE1_DEPTH)


solid = part.part
